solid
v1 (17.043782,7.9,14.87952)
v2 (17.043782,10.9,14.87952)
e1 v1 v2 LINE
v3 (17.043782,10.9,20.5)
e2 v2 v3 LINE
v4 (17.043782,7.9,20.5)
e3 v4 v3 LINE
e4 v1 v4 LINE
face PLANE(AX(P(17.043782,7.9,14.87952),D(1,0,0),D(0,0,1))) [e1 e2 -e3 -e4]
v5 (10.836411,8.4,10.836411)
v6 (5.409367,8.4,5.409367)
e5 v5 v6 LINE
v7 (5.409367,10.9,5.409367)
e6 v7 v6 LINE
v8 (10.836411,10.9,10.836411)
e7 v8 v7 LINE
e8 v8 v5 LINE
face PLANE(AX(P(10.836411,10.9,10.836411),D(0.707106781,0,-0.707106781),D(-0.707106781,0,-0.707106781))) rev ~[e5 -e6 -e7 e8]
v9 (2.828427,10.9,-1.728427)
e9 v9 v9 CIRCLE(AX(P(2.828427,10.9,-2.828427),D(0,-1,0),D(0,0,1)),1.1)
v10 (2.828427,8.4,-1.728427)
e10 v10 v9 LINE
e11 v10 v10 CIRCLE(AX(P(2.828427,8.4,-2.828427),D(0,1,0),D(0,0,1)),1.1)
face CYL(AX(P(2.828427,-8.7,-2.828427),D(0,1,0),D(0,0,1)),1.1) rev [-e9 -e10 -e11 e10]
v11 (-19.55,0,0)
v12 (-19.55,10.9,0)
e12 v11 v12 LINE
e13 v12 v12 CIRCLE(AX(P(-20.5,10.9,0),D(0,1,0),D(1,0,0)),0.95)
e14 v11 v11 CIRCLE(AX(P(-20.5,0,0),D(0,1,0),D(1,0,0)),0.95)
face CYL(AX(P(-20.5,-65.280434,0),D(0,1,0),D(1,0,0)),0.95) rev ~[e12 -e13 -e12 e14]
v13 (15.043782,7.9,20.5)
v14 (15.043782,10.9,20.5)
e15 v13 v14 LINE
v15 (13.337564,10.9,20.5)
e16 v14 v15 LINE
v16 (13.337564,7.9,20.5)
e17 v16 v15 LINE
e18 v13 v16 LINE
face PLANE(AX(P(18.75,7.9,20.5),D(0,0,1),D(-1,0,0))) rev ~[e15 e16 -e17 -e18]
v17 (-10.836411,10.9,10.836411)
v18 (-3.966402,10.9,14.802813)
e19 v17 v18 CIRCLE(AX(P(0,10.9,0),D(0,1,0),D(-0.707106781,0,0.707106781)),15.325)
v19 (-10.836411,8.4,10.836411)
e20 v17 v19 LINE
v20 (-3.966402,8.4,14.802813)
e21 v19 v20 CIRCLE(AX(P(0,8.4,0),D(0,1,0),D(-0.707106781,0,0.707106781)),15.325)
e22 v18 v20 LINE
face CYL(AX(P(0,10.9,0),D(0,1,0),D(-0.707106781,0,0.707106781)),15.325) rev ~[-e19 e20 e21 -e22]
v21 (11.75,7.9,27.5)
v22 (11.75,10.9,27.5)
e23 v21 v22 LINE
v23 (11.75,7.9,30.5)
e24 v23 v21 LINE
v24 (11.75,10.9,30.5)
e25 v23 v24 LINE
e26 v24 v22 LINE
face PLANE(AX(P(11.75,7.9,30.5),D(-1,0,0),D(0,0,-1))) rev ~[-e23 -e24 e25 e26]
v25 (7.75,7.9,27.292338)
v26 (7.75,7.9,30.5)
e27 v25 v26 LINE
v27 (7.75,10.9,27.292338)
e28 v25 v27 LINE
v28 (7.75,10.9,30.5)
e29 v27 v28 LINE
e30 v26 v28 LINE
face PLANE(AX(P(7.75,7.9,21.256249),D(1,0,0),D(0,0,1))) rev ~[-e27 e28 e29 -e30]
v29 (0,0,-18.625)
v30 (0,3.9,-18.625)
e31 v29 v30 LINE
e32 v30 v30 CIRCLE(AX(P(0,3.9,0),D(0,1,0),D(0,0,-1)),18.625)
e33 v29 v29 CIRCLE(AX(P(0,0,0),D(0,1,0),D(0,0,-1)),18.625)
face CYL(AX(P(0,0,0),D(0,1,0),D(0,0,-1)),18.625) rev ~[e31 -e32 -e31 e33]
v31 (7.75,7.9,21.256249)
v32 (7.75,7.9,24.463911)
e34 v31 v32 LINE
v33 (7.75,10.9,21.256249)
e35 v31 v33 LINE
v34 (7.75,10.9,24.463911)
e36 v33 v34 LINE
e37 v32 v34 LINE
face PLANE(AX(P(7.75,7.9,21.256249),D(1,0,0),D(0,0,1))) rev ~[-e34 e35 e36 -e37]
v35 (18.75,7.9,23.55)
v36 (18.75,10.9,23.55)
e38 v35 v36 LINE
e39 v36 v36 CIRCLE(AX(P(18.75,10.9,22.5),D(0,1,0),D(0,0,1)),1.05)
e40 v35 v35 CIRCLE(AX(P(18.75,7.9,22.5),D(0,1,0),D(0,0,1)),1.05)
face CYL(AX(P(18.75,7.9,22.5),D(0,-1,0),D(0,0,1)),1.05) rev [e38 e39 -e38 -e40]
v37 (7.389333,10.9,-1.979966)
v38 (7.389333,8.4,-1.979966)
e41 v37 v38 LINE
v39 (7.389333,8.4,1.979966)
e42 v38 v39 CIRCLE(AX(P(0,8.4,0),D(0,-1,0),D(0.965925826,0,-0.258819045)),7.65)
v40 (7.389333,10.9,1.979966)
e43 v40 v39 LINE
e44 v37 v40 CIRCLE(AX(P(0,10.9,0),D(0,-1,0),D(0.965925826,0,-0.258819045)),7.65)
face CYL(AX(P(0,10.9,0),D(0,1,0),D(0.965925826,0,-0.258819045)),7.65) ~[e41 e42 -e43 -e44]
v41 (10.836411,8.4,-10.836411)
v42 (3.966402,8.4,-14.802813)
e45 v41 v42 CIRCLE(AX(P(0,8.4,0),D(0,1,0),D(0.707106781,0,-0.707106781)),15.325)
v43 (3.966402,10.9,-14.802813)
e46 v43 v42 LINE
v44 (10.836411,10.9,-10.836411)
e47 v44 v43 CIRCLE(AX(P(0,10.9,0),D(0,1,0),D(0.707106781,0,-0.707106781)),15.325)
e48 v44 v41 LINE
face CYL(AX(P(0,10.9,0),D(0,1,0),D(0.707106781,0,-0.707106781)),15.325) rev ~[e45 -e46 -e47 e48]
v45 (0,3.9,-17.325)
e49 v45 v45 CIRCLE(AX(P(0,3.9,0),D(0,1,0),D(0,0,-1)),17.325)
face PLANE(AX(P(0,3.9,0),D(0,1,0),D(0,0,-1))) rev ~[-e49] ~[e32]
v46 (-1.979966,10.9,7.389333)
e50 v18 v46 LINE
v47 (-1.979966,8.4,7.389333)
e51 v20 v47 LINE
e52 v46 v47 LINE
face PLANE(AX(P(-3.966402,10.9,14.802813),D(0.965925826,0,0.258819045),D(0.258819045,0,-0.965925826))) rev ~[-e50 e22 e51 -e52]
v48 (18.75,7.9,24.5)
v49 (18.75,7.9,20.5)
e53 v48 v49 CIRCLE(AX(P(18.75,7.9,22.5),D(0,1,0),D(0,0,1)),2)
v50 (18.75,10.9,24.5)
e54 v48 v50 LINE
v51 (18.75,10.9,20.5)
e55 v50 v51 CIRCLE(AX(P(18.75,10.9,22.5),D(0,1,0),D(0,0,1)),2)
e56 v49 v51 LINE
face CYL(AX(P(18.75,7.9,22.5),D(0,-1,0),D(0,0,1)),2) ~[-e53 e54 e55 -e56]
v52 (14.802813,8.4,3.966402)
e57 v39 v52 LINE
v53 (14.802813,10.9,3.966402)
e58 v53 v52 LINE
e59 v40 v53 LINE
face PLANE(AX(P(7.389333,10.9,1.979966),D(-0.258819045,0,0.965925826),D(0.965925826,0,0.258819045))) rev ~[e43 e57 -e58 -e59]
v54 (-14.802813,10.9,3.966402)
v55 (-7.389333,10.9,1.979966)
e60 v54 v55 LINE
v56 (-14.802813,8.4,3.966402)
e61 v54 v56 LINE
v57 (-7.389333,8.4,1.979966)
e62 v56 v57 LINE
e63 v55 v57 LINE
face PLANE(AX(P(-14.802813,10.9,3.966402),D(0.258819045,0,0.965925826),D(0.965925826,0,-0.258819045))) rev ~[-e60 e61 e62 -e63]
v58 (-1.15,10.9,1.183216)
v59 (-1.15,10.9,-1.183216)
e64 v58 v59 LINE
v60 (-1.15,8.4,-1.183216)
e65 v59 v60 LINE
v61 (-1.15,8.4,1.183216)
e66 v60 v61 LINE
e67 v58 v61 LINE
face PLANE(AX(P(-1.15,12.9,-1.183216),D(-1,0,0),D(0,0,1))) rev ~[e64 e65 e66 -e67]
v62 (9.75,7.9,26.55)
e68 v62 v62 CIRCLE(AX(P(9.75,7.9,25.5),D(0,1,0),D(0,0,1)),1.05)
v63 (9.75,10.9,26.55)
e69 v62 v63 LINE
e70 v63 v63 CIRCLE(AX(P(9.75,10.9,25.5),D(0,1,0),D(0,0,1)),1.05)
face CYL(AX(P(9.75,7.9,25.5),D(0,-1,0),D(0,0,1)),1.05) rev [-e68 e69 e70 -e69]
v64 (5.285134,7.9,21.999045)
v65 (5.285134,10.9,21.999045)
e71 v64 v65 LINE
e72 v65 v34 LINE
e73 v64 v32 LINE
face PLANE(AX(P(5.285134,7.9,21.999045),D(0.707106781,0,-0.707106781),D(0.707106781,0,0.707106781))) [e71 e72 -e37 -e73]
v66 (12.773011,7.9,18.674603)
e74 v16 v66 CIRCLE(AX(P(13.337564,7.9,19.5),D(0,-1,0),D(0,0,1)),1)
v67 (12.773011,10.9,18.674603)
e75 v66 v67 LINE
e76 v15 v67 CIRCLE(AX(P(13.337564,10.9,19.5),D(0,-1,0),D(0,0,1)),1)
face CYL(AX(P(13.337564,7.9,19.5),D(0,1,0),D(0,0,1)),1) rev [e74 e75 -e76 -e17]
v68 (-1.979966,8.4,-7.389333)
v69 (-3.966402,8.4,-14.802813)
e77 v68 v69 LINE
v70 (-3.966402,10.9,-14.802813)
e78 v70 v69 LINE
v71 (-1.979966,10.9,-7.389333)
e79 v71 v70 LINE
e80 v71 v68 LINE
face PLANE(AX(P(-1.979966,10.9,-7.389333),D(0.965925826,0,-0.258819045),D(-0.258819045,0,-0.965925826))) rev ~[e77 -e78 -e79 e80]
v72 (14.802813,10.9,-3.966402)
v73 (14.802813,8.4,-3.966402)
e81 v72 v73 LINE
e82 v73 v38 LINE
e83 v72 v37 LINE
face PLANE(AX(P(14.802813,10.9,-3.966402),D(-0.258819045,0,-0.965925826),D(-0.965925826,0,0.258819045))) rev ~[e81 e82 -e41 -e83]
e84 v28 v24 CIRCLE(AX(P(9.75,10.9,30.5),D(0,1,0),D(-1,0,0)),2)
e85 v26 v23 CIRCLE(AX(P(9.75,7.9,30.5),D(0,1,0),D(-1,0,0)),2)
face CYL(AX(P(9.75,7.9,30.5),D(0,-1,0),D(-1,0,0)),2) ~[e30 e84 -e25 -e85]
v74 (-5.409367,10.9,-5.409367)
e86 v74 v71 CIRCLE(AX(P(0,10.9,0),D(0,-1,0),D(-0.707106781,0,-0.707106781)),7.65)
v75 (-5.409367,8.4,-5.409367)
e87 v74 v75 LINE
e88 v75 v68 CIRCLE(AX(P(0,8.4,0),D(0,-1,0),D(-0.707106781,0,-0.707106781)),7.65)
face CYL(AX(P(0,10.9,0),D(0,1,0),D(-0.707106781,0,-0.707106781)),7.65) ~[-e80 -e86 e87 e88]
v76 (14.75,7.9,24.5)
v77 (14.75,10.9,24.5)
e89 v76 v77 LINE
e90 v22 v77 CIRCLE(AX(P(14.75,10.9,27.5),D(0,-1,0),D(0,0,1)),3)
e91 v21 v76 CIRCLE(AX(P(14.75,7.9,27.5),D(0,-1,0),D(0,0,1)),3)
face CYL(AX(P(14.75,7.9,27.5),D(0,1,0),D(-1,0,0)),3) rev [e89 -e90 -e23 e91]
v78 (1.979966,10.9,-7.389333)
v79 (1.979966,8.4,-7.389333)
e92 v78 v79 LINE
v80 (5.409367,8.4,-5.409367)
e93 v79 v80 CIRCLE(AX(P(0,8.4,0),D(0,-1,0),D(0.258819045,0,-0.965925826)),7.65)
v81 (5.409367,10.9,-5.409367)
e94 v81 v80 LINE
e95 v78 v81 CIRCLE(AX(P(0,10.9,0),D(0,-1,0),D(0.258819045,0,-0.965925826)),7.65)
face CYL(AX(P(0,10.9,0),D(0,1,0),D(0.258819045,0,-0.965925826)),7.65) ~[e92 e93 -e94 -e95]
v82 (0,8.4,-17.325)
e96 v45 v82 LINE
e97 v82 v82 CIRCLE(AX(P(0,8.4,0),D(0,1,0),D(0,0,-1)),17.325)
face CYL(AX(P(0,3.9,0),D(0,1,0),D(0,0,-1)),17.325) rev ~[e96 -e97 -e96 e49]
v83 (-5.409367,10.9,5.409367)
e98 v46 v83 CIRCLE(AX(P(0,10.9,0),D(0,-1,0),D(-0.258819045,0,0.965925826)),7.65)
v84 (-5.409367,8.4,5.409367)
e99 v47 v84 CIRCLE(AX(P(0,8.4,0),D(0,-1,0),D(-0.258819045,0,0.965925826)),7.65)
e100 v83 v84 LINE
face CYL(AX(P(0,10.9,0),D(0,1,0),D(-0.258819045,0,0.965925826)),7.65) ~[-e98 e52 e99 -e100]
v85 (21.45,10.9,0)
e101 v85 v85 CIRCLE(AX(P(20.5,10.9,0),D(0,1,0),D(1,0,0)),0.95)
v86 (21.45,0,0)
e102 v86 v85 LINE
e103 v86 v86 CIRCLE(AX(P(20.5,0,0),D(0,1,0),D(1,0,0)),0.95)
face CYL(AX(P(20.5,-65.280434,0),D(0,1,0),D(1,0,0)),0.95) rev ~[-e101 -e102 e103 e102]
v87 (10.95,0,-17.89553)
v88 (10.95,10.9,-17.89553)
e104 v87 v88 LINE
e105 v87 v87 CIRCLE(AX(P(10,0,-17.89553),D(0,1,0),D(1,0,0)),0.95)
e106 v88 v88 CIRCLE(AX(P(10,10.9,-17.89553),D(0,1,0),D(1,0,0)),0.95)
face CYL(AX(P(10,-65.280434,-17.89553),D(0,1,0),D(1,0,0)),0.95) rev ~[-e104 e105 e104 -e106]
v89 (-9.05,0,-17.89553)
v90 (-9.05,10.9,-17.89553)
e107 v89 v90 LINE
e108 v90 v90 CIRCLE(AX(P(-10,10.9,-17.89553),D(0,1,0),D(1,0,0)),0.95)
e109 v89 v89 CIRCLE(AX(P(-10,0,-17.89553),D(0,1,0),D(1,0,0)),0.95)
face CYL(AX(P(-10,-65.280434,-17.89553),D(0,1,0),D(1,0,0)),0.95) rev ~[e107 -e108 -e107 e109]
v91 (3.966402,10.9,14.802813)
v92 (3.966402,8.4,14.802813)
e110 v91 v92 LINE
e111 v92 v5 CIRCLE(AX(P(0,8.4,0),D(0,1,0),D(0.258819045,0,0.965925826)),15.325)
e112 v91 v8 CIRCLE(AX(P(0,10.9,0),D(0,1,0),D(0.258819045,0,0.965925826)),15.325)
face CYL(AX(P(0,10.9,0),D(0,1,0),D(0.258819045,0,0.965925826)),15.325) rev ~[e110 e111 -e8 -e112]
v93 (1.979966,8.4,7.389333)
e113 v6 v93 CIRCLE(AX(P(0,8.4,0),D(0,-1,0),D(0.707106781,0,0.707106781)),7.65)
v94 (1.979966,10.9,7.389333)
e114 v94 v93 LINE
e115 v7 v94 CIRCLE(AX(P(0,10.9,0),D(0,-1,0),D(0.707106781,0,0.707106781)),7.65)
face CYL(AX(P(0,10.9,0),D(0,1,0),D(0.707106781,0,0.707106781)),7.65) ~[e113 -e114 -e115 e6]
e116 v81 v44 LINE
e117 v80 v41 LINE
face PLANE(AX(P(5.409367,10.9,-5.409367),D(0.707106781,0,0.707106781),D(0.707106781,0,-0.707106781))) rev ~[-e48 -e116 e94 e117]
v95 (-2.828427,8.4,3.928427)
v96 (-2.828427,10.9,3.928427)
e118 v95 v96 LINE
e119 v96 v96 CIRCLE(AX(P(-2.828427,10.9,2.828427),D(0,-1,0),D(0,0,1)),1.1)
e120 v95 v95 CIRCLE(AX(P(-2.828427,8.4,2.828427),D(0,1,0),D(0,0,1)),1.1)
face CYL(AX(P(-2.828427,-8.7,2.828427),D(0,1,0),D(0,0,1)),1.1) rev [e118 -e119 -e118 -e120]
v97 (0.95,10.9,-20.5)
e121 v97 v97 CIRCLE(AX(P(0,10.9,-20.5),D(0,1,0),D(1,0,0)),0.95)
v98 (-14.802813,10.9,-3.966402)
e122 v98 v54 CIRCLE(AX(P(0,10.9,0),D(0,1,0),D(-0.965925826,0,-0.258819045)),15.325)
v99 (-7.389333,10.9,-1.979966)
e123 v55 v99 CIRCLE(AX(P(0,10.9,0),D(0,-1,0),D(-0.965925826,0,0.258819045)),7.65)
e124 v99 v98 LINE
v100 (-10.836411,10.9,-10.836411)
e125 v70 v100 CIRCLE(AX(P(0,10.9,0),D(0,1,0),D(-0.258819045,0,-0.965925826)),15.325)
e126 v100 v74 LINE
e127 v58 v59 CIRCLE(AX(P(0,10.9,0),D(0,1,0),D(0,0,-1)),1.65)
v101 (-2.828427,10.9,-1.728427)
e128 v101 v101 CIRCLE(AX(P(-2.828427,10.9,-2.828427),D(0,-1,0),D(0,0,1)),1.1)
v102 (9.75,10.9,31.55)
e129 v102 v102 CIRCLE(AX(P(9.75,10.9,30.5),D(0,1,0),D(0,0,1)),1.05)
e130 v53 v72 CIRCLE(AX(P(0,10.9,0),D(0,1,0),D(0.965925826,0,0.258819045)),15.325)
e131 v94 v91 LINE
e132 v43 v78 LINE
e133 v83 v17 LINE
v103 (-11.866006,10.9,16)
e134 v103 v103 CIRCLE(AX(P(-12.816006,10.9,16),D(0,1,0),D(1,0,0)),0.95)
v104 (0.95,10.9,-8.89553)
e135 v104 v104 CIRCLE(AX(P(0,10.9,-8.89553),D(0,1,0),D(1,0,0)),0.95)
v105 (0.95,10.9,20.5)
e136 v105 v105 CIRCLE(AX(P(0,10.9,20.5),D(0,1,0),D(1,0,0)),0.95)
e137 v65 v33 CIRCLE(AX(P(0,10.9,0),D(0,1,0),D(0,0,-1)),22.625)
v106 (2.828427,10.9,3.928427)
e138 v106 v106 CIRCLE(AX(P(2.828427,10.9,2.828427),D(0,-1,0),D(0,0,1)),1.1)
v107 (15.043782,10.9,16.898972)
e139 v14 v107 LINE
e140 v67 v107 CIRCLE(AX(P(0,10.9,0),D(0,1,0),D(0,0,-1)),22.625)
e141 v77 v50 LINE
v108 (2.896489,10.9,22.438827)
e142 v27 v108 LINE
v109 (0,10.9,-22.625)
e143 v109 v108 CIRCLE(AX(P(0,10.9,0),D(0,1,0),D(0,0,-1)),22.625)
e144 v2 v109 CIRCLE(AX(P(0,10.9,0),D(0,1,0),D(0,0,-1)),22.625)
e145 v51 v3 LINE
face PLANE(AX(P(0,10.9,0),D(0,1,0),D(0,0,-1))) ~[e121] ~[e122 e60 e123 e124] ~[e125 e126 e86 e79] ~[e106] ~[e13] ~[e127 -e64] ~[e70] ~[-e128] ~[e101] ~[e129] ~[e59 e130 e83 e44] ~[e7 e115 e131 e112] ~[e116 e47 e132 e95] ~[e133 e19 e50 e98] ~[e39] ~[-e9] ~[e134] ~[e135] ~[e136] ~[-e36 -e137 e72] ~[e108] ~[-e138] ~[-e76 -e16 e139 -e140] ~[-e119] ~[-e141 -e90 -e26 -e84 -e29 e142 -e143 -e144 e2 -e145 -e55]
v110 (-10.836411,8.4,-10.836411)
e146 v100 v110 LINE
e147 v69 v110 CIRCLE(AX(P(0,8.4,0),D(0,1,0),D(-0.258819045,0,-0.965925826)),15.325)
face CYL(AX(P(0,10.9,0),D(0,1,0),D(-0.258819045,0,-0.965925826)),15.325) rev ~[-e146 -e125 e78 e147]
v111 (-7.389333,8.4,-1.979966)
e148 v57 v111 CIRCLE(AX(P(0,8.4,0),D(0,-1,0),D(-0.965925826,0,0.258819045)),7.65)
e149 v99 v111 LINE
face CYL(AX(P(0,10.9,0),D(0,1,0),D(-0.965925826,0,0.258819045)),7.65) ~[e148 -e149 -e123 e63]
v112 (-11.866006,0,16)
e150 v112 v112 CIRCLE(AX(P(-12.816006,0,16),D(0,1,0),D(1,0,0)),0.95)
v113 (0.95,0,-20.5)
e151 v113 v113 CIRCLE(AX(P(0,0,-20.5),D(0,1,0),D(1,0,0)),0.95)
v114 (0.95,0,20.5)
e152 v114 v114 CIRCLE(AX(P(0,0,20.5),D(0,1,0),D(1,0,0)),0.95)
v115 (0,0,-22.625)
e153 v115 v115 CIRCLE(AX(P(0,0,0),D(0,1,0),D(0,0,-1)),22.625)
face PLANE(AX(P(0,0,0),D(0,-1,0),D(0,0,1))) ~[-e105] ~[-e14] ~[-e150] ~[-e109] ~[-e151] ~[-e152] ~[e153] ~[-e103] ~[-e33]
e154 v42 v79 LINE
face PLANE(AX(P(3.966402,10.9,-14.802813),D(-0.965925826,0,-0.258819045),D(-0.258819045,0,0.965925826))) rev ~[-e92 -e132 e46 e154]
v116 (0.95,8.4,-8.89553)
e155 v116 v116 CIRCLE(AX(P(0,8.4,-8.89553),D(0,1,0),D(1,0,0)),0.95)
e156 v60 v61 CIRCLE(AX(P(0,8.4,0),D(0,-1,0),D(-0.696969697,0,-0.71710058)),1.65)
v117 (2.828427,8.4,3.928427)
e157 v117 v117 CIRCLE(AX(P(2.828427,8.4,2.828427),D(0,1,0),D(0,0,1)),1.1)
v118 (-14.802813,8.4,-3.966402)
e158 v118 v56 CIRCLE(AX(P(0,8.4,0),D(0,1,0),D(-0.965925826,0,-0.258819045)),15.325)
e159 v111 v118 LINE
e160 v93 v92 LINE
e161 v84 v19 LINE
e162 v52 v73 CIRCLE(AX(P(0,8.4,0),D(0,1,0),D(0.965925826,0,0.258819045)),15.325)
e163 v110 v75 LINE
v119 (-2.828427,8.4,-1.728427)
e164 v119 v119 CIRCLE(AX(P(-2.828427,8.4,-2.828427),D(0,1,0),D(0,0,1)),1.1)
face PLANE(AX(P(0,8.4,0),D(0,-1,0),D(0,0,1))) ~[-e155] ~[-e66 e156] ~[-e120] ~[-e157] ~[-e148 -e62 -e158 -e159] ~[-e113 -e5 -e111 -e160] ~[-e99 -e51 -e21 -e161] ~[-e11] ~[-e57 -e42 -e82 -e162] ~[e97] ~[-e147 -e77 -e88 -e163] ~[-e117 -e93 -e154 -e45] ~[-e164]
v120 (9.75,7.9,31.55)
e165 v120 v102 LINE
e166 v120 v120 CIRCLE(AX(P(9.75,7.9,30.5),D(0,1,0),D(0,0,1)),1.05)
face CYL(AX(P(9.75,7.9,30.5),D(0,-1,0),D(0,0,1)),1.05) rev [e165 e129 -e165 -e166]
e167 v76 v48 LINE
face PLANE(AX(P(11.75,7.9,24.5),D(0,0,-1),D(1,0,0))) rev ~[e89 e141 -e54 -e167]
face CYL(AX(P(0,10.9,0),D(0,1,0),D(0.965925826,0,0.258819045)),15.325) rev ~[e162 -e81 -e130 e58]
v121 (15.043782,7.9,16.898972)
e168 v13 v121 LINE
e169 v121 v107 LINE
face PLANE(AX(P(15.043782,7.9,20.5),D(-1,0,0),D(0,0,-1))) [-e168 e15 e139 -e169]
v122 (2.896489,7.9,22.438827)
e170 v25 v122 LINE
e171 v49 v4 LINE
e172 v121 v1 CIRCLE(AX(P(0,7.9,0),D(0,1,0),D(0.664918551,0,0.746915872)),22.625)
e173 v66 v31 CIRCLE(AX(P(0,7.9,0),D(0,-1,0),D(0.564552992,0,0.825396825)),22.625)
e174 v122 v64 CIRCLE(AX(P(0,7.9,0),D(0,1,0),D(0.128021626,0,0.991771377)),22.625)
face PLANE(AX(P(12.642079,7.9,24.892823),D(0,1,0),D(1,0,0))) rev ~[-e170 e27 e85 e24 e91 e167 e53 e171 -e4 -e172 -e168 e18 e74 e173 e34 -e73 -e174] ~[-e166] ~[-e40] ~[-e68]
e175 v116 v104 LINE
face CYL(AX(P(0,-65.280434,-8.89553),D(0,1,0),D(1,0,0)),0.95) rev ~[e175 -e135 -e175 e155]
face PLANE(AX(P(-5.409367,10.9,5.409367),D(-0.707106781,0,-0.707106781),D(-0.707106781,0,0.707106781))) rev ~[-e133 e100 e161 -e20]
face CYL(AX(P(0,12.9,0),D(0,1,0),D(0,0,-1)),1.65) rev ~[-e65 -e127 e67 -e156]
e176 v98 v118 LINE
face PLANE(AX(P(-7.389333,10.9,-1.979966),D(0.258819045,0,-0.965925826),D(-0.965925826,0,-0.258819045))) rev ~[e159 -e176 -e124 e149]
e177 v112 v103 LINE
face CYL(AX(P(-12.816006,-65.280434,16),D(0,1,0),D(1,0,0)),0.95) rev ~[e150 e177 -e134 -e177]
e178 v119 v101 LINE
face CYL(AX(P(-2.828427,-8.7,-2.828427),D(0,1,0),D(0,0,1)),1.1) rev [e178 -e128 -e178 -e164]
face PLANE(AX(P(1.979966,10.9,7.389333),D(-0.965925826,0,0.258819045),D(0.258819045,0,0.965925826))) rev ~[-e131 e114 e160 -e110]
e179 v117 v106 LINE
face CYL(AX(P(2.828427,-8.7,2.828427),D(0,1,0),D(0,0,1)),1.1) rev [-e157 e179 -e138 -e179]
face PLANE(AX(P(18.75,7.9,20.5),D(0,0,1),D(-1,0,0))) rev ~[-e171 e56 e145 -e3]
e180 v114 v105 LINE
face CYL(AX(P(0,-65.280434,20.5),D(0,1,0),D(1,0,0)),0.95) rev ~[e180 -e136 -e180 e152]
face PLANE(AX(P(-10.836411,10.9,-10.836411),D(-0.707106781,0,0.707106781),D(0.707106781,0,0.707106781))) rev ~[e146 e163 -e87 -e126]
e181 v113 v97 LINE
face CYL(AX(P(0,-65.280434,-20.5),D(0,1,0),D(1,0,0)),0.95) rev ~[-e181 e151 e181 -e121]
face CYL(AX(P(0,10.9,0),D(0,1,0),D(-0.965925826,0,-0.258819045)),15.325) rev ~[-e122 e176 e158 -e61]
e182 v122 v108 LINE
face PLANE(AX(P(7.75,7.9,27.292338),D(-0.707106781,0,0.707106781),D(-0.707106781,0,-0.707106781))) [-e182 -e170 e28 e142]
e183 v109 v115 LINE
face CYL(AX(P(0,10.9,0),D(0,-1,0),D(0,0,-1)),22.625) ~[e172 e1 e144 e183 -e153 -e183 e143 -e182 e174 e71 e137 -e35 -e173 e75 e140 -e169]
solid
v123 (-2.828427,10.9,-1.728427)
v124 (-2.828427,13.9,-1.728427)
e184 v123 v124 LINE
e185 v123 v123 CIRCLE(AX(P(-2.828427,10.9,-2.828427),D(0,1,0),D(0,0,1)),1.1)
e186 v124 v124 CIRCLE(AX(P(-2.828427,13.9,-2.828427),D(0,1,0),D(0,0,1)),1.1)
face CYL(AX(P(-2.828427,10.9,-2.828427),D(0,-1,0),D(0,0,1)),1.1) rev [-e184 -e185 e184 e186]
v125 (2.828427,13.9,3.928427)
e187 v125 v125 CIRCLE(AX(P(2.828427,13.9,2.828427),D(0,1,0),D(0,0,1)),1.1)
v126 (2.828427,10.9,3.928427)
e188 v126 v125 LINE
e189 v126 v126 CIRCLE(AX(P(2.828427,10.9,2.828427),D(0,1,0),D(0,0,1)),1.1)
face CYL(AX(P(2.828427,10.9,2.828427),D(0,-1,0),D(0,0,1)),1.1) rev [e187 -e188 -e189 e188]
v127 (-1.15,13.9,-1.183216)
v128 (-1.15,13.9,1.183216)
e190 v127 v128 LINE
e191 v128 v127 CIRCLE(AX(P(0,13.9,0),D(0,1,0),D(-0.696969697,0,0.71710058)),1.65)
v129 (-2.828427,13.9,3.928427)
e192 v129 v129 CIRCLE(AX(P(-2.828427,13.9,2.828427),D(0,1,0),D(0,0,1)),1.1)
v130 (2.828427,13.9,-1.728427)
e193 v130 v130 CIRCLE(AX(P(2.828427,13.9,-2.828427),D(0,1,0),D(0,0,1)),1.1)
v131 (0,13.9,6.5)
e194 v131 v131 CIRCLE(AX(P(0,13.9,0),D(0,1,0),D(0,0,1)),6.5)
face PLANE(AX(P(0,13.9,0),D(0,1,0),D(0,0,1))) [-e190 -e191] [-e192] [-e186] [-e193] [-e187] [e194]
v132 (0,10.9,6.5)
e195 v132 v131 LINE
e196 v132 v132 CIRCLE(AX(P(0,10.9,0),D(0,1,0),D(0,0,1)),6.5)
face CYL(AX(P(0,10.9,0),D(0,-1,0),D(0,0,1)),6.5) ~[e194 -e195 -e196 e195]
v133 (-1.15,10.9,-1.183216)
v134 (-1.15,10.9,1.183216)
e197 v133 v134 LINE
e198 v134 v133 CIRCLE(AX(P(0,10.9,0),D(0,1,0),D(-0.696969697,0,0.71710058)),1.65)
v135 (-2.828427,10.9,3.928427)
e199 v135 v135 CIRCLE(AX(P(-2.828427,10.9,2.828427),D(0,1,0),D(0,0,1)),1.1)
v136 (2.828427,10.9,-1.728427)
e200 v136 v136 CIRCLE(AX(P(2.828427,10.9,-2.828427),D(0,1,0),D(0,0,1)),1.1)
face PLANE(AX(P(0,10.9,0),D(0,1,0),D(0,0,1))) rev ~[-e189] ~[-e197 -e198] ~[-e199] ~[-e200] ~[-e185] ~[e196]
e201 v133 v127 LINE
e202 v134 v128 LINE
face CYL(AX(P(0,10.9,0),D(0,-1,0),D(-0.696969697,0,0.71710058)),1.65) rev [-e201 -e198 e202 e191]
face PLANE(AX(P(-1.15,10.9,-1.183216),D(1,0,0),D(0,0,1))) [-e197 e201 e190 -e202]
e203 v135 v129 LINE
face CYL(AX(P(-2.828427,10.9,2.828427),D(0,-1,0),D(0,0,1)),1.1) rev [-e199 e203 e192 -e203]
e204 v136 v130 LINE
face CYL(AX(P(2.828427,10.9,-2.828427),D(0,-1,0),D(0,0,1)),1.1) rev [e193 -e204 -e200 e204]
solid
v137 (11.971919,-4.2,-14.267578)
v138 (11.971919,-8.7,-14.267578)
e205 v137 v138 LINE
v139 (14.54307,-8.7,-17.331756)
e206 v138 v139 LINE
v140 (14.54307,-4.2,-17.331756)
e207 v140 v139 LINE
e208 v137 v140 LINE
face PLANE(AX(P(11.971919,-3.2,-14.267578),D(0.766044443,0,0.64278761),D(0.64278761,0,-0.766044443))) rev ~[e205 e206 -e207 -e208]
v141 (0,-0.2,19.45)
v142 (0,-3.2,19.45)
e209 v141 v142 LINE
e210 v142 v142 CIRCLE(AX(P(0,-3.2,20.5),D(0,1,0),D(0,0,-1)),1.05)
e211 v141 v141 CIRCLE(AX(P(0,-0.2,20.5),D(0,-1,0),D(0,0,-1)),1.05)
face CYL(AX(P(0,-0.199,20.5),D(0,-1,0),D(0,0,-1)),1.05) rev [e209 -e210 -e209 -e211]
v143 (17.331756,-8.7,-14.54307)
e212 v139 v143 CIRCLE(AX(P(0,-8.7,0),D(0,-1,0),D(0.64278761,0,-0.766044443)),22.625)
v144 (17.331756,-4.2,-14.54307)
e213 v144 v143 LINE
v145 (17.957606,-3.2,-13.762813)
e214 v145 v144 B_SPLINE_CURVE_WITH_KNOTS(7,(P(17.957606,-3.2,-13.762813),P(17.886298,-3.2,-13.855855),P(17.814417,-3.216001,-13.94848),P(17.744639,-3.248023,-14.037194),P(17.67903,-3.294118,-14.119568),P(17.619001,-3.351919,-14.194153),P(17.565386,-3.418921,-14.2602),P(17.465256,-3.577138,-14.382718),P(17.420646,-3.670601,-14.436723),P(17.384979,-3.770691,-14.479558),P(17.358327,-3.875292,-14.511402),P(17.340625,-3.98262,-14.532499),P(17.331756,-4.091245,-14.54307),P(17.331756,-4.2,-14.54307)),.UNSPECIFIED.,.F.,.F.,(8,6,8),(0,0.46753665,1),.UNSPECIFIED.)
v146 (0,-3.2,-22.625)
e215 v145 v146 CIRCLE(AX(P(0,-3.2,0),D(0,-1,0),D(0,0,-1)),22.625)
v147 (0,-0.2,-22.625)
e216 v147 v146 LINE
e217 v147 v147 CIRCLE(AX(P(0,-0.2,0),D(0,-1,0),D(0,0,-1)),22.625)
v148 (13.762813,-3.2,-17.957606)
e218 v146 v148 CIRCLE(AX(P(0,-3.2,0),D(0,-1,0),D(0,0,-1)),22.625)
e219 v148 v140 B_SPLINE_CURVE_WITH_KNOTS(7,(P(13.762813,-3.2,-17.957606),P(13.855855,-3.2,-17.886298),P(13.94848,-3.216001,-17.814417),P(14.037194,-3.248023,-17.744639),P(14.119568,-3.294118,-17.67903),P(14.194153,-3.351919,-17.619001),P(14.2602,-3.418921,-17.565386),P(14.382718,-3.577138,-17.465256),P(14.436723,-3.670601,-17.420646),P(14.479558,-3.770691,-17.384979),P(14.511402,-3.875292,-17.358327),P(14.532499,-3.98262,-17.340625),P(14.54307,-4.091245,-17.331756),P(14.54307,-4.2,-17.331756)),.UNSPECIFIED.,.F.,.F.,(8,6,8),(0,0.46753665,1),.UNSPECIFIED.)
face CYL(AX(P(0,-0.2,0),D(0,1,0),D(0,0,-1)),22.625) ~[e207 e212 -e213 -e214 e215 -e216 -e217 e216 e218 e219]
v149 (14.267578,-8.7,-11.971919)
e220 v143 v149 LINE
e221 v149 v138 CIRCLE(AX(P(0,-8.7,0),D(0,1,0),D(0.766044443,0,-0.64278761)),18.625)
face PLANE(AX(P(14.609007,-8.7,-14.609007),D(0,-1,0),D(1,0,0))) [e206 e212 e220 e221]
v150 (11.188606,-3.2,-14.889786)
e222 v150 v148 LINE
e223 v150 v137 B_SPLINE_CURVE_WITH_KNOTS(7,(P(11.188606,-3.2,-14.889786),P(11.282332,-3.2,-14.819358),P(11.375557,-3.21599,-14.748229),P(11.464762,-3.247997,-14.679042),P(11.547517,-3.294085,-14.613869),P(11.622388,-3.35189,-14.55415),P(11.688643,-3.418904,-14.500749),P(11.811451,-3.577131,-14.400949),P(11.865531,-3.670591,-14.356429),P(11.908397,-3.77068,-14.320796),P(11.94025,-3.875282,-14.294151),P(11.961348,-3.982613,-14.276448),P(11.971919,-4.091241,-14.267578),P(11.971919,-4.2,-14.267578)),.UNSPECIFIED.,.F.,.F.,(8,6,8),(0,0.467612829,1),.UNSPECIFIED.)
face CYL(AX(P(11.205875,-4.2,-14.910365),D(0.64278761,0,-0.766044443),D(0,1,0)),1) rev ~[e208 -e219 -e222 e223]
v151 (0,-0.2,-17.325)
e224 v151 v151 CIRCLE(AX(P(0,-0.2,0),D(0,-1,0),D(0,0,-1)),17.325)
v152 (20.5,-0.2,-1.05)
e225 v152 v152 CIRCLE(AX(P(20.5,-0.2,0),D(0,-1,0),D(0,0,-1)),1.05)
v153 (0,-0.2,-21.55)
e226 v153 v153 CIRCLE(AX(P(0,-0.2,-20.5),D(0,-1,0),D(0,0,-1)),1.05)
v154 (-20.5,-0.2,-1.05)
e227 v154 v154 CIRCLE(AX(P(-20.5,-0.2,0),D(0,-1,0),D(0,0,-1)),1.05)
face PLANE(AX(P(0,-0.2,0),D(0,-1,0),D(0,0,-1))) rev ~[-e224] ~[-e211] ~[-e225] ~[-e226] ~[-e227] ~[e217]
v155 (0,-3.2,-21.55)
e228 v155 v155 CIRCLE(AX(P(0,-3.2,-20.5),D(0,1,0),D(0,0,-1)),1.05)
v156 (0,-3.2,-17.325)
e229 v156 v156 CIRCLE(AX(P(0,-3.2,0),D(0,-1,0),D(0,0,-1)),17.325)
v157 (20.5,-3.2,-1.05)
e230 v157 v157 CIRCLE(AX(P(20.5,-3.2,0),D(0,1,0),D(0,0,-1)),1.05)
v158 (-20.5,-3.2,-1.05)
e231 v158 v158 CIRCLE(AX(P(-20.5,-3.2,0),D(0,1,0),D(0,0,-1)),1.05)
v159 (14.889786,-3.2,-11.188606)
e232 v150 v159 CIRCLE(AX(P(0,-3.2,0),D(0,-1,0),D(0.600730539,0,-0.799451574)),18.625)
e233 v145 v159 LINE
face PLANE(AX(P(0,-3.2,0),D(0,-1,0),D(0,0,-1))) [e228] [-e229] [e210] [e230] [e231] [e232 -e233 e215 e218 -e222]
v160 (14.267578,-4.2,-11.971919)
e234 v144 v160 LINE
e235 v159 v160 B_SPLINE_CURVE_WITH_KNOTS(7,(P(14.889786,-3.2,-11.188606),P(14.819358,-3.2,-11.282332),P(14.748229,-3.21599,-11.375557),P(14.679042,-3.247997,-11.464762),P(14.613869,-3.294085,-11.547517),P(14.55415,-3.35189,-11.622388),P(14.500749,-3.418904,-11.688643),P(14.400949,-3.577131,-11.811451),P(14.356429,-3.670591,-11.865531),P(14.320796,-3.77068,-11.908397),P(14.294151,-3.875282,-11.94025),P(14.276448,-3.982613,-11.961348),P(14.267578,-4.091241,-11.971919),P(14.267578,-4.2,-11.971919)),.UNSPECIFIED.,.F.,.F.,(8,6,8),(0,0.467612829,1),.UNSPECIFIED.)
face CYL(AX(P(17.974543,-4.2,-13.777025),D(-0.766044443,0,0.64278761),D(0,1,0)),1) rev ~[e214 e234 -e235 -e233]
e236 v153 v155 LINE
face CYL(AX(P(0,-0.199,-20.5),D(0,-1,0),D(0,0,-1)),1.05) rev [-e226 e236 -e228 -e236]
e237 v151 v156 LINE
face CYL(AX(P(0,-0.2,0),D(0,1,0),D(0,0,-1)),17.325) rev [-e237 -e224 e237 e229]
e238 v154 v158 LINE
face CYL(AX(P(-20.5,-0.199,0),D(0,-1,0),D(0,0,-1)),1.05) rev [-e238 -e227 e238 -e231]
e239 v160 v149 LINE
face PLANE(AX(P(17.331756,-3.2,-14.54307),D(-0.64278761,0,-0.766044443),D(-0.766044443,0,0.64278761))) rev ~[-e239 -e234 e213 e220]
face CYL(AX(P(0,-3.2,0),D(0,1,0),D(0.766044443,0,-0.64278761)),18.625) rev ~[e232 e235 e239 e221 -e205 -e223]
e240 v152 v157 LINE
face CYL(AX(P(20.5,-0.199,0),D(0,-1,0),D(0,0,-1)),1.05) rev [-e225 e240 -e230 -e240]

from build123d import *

# Parameters (mm, degrees)
EXTRUDE_START                    = 2
SKETCH_2_R                       = 3.6500000000000004
SKETCH_2_R_2                     = 1.6500000000000004
EXTRUDE_1_DEPTH                  = 2
EXTRUDE_2_DEPTH                  = 4.5
HOLE_WIZARD_1_9_1_9_2_D          = 1.9
EXTRUDE_START_2                  = 0.2
SKETCH_6_R                       = 22.625
SKETCH_6_R_2                     = 17.325
EXTRUDE_3_DEPTH                  = 3
HOLE_WIZARD_2_1_2_1_2_AT_2_COUNT = 2
HOLE_WIZARD_2_1_2_1_2_AT_2_PITCH = 28.991378028648448
HOLE_WIZARD_2_1_2_1_2_AT_3_COUNT = 2
HOLE_WIZARD_2_1_2_1_2_AT_3_PITCH = 41
HOLE_WIZARD_2_1_2_1_2_AT_4_COUNT = 2
HOLE_WIZARD_2_1_2_1_2_AT_4_PITCH = 28.991378028648448
EXTRUDE_START_3                  = -3
SKETCH_9_R                       = 1.0499999999999934
SKETCH_9_R_2                     = 1.0499999999999985
EXTRUDE_4_DEPTH                  = 3
FILLET_1_R                       = 3
FILLET_2_R                       = 1
EXTRUDE_5_DEPTH                  = 3
CUT_EXTRUDE_1_DEPTH              = 2.5
EXTRUDE_START_4                  = 3.2
EXTRUDE_6_DEPTH                  = 5.5
FILLET_3_R                       = 1
CUT_EXTRUDE_START                = 10
SKETCH_13_R                      = 3.6500000000000004
CUT_EXTRUDE_2_DEPTH              = 10
HOLE_WIZARD_2_2_2_2_1_AT_2_COUNT = 2
HOLE_WIZARD_2_2_2_2_1_AT_2_PITCH = 5.65685424949238
HOLE_WIZARD_2_2_2_2_1_AT_3_COUNT = 2
HOLE_WIZARD_2_2_2_2_1_AT_3_PITCH = 8
HOLE_WIZARD_2_2_2_2_1_AT_4_COUNT = 2
HOLE_WIZARD_2_2_2_2_1_AT_4_PITCH = 5.6568542494923815
SKETCH_18_R                      = 6.5
SKETCH_18_R_2                    = 1.0999999999999883
SKETCH_18_R_3                    = 1.0999999999999885
SKETCH_18_R_4                    = 1.0999999999999888
SKETCH_18_R_5                    = 1.099999999999988
EXTRUDE_7_DEPTH                  = 3


with BuildPart() as part:
    # 草图1 → 旋转1 (revolve)
    with BuildSketch(Plane.XY, mode=Mode.PRIVATE) as revolve_1_sk:
        Polygon((18.625, -4.9e-16), (18.625, 3.8999999999999995), (17.325, 3.8999999999999995), (17.325, 8.4), (1.6499999999999986, 8.399999999999999), (1.65, 10.9), (22.625, 10.9), (22.625, 0), align=None)
    revolve(revolve_1_sk.sketch.rotate(Axis((0, 0, 0), (0, 1, 0)), 90), axis=Axis((0, 0, 0), (0, 1, 0)))

    # 草图2 → 凸台-拉伸1 (add)
    with BuildSketch(Plane(origin=(0, 10.9, 0), x_dir=(1, 0, 0), z_dir=(0, 1, 0)).offset(EXTRUDE_START)):
        with Locations(Location((0, 0, 0), (0, 0, 270))):
            Circle(SKETCH_2_R)
        with Locations(Location((0, 0, 0), (0, 0, 90))):
            Circle(SKETCH_2_R_2, mode=Mode.SUBTRACT)
    extrude(amount=-EXTRUDE_1_DEPTH)

    # 草图3 → 凸台-拉伸2 (add)
    with BuildSketch(Plane(origin=(0, 12.9, 0), x_dir=(1, 0, 0), z_dir=(0, 1, 0))):
        with BuildLine():
            Line((-1.1499999999999997, 1.1832159566199236), (-1.1499999999999997, -1.1832159566199236))
            ThreePointArc((-1.1499999999999997, -1.1832159566199236), (-1.6500000000000001, 2e-16), (-1.1499999999999997, 1.1832159566199236))
        make_face()
    extrude(amount=-EXTRUDE_2_DEPTH)

    # Ø1.9 (1.9) 直径孔2 (through all)
    with Locations(Plane(origin=(0, 0, 0), x_dir=(-1, 0, 0), z_dir=(0, -1, 0))):
        with Locations((12.816005618, -16), (-20.5, 0), (0, 20.5), (20.5, 0), (0, -20.5), (-10, 17.895530168), (10, 17.895530168), (0, 8.895530168)):
            Hole(HOLE_WIZARD_1_9_1_9_2_D / 2)

    # 草图9 → 凸台-拉伸4 (add)
    with BuildSketch(Plane(origin=(0, 10.9, 0), x_dir=(1, 0, 0), z_dir=(0, 1, 0)).offset(EXTRUDE_START_3)):
        with BuildLine():
            ThreePointArc((7.75, -30.5), (9.75, -32.5), (11.75, -30.5))
            Line((11.75, -30.5), (11.75, -24.499999999999996))
            Line((11.75, -24.499999999999996), (18.75, -24.499999999999996))
            ThreePointArc((18.75, -24.5), (20.75, -22.5), (18.75, -20.5))
            Line((18.75, -20.499999999999996), (9.572910999272894, -20.5))
            ThreePointArc((9.572910999272901, -20.499999999999996), (8.669705274135236, -20.898010322986053), (7.749999999999996, -21.256249081152582))
            Line((7.75, -21.256249081152582), (7.75, -30.5))
        make_face()
        with Locations(Location((9.75, -30.5, 0), (0, 0, 270))):
            Circle(SKETCH_9_R, mode=Mode.SUBTRACT)
        with Locations(Location((9.75, -25.5, 0), (0, 0, 270))):
            Circle(SKETCH_9_R_2, mode=Mode.SUBTRACT)
        with Locations(Location((18.75, -22.5, 0), (0, 0, 270))):
            Circle(SKETCH_9_R_2, mode=Mode.SUBTRACT)
    extrude(amount=EXTRUDE_4_DEPTH)

    # 圆角1
    fillet_1_edges = [part.edges().sort_by_distance(p)[0] for p in [
        (11.75, 9.4, 24.499999999999996),
    ]]
    fillet(fillet_1_edges, radius=FILLET_1_R)

    # 圆角2
    fillet_2_edges = [part.edges().sort_by_distance(p)[0] for p in [
        (9.572910999272896, 9.4, 20.499999999999996),
    ]]
    fillet(fillet_2_edges, radius=FILLET_2_R)

    # 草图10 → 凸台-拉伸5 (add)
    with BuildSketch(Plane(origin=(0, 10.9, 0), x_dir=(1, 0, 0), z_dir=(0, 1, 0)).offset(EXTRUDE_START_3)):
        with BuildLine():
            Line((7.75, -27.29233810294938), (2.8964892904408646, -22.438827393390266))
            ThreePointArc((2.8964892904408646, -22.438827393390266), (4.096717261259319, -22.251011947354215), (5.285134066870919, -21.99904504507413))
            Line((5.285134066870919, -21.99904504507413), (7.75, -24.4639109782032))
            Line((7.75, -24.4639109782032), (7.75, -27.29233810294938))
        make_face()
        with BuildLine():
            Line((15.043782216417029, -20.5), (15.043782216417029, -16.89897161442124))
            ThreePointArc((15.043782216417029, -16.89897161442124), (16.075524691411957, -15.920682488379839), (17.043782216417032, -14.879519910243964))
            Line((17.043782216417032, -14.879519910243964), (17.043782216417032, -20.5))
            Line((17.043782216417032, -20.5), (15.043782216417029, -20.5))
        make_face()
    extrude(amount=EXTRUDE_5_DEPTH)

    # 草图11 → 切除-拉伸1 (cut)
    with BuildSketch(Plane(origin=(0, 10.9, 0), x_dir=(1, 0, 0), z_dir=(0, 1, 0))):
        with BuildLine():
            Line((-7.389332571111372, 1.979965695034288), (-14.80281328787997, 3.9664018661961387))
            ThreePointArc((-14.80281328787997, 3.9664018661961387), (-15.325, 1.88e-15), (-14.802813287879967, -3.966401866196142))
            Line((-14.802813287879967, -3.966401866196142), (-7.389332571111371, -1.9799656950342899))
            ThreePointArc((-7.389332571111371, -1.9799656950342899), (-7.65, 9.4e-16), (-7.389332571111372, 1.979965695034288))
        make_face()
        with BuildLine():
            Line((-1.9799656950342812, 7.389332571111374), (-3.966401866196125, 14.802813287879975))
            ThreePointArc((-3.966401866196125, 14.802813287879975), (-7.662500000000004, 13.271839312996521), (-10.83641142168385, 10.836411421683831))
            Line((-10.83641142168385, 10.836411421683831), (-5.409366876077093, 5.409366876077084))
            ThreePointArc((-5.409366876077093, 5.409366876077084), (-3.825000000000002, 6.625094338950955), (-1.9799656950342812, 7.389332571111374))
        make_face()
        with BuildLine():
            Line((5.40936687607709, 5.409366876077088), (10.836411421683845, 10.836411421683838))
            ThreePointArc((10.836411421683845, 10.836411421683838), (7.662499999999996, 13.271839312996526), (3.966401866196115, 14.802813287879976))
            Line((3.966401866196115, 14.802813287879976), (1.9799656950342763, 7.3893325711113755))
            ThreePointArc((1.9799656950342763, 7.3893325711113755), (3.824999999999996, 6.625094338950958), (5.40936687607709, 5.409366876077088))
        make_face()
        with BuildLine():
            Line((7.389332571111372, -1.9799656950342872), (14.80281328787997, -3.966401866196137))
            ThreePointArc((14.80281328787997, -3.966401866196137), (15.325, 4.25e-15), (14.802813287879967, 3.966401866196144))
            Line((14.802813287879967, 3.966401866196144), (7.389332571111371, 1.9799656950342908))
            ThreePointArc((7.389332571111371, 1.9799656950342908), (7.65, 2.12e-15), (7.389332571111372, -1.9799656950342872))
        make_face()
        with BuildLine():
            Line((1.9799656950342834, -7.389332571111374), (3.96640186619613, -14.802813287879973))
            ThreePointArc((3.96640186619613, -14.802813287879973), (7.662500000000008, -13.27183931299652), (10.836411421683856, -10.83641142168383))
            Line((10.836411421683856, -10.83641142168383), (5.409366876077096, -5.409366876077082))
            ThreePointArc((5.409366876077096, -5.409366876077082), (3.825000000000004, -6.625094338950954), (1.9799656950342834, -7.389332571111374))
        make_face()
        with BuildLine():
            Line((-5.4093668760770885, -5.40936687607709), (-10.836411421683838, -10.836411421683843))
            ThreePointArc((-10.836411421683838, -10.836411421683843), (-7.66249999999999, -13.271839312996526), (-3.9664018661961076, -14.802813287879978))
            Line((-3.9664018661961076, -14.802813287879978), (-1.9799656950342726, -7.3893325711113755))
            ThreePointArc((-1.9799656950342726, -7.3893325711113755), (-3.8249999999999957, -6.625094338950959), (-5.4093668760770885, -5.40936687607709))
        make_face()
    extrude(amount=-CUT_EXTRUDE_1_DEPTH, mode=Mode.SUBTRACT)

    # 草图13 → 切除-拉伸2 (cut)
    with BuildSketch(Plane(origin=(0, 10.9, 0), x_dir=(1, 0, 0), z_dir=(0, 1, 0)).offset(CUT_EXTRUDE_START)):
        Circle(SKETCH_13_R)
    extrude(amount=-CUT_EXTRUDE_2_DEPTH, mode=Mode.SUBTRACT)

    # 草图17 → Ø2.2 (2.2) 直径孔1 (revolve, cut)
    with BuildSketch(Plane(origin=(-2.8284271247461854, 10.9, 2.828427124746195), x_dir=(0, 0, 1), z_dir=(1, 0, 0))):
        Polygon((0, 0), (-4.8e-15, 19.599999999999998), (1.0999999999999952, 19.599999999999998), (1.099999999999988, -1.42e-15), align=None)
    hole_wizard_2_2_2_2_1 = revolve(axis=Axis((-2.8284271247461854, 17.249999999999993, 2.828427124746195), (0, -1, 0)), mode=Mode.SUBTRACT)

    # Ø2.2 (2.2) 直径孔1 at 2: Ø2.2 (2.2) 直径孔1 ×2
    with Locations(*[(0, 0, -i * HOLE_WIZARD_2_2_2_2_1_AT_2_PITCH) for i in range(1, HOLE_WIZARD_2_2_2_2_1_AT_2_COUNT)]):
        add(hole_wizard_2_2_2_2_1, mode=Mode.SUBTRACT)

    # Ø2.2 (2.2) 直径孔1 at 3: Ø2.2 (2.2) 直径孔1 ×2
    with Locations(*[Vector(0.7071067811865464, 0, -0.7071067811865488) * (i * HOLE_WIZARD_2_2_2_2_1_AT_3_PITCH) for i in range(1, HOLE_WIZARD_2_2_2_2_1_AT_3_COUNT)]):
        add(hole_wizard_2_2_2_2_1, mode=Mode.SUBTRACT)

    # Ø2.2 (2.2) 直径孔1 at 4: Ø2.2 (2.2) 直径孔1 ×2
    with Locations(*[(i * HOLE_WIZARD_2_2_2_2_1_AT_4_PITCH, 0, 0) for i in range(1, HOLE_WIZARD_2_2_2_2_1_AT_4_COUNT)]):
        add(hole_wizard_2_2_2_2_1, mode=Mode.SUBTRACT)


with BuildPart() as body_2:
    # 草图6 → 凸台-拉伸3 (new body)
    with BuildSketch(Plane.XZ.offset(EXTRUDE_START_2)):
        with Locations(Location((0, 0, 0), (0, 0, 270))):
            Circle(SKETCH_6_R)
        with Locations(Location((0, 0, 0), (0, 0, 270))):
            Circle(SKETCH_6_R_2, mode=Mode.SUBTRACT)
    extrude(amount=EXTRUDE_3_DEPTH)

    # 草图8 → Ø2.1 (2.1) 直径孔2 (revolve, cut)
    with BuildSketch(Plane(origin=(-20.5, -3.2, 0), x_dir=(0, 0, -1), z_dir=(1, 0, 0))):
        Polygon((0, 0), (-7.4e-16, 3.0010000000000003), (1.0499999999999994, 3.0010000000000003), (1.0499999999999987, 1e-17), align=None)
    hole_wizard_2_1_2_1_2 = revolve(axis=Axis((-20.5, -9.54999999999999, 0), (0, 1, 0)), mode=Mode.SUBTRACT)

    # Ø2.1 (2.1) 直径孔2 at 2: Ø2.1 (2.1) 直径孔2 ×2
    with Locations(*[Vector(0.7071067811865476, 0, -0.7071067811865476) * (i * HOLE_WIZARD_2_1_2_1_2_AT_2_PITCH) for i in range(1, HOLE_WIZARD_2_1_2_1_2_AT_2_COUNT)]):
        add(hole_wizard_2_1_2_1_2, mode=Mode.SUBTRACT)

    # Ø2.1 (2.1) 直径孔2 at 3: Ø2.1 (2.1) 直径孔2 ×2
    with Locations(*[(i * HOLE_WIZARD_2_1_2_1_2_AT_3_PITCH, 0, 0) for i in range(1, HOLE_WIZARD_2_1_2_1_2_AT_3_COUNT)]):
        add(hole_wizard_2_1_2_1_2, mode=Mode.SUBTRACT)

    # Ø2.1 (2.1) 直径孔2 at 4: Ø2.1 (2.1) 直径孔2 ×2
    with Locations(*[Vector(0.7071067811865476, 0, 0.7071067811865476) * (i * HOLE_WIZARD_2_1_2_1_2_AT_4_PITCH) for i in range(1, HOLE_WIZARD_2_1_2_1_2_AT_4_COUNT)]):
        add(hole_wizard_2_1_2_1_2, mode=Mode.SUBTRACT)

    # 草图12 → 凸台-拉伸6 (add)
    with BuildSketch(Plane.XZ.offset(EXTRUDE_START_4)):
        with BuildLine():
            Line((11.971919230411768, -14.26757775309099), (14.543069669157921, -17.331755525566905))
            ThreePointArc((14.543069669157921, -17.331755525566905), (15.998290924345609, -15.998290924345666), (17.331755525566855, -14.543069669157981))
            Line((17.331755525566855, -14.543069669157981), (14.267577753090945, -11.97191923041182))
            ThreePointArc((14.267577753090945, -11.97191923041182), (13.169863799599424, -13.16986379959947), (11.971919230411768, -14.26757775309099))
        make_face()
    extrude(amount=EXTRUDE_6_DEPTH)

    # 圆角3
    fillet_3_edges = [body_2.edges().sort_by_distance(p)[0] for p in [
        (15.799666639328901, -3.2, -13.2574944497849),
        (13.257494449784843, -3.2, -15.799666639328947),
    ]]
    fillet(fillet_3_edges, radius=FILLET_3_R)


with BuildPart() as body_3:
    # 草图18 → 凸台-拉伸7 (new body)
    with BuildSketch(Plane(origin=(0, 10.9, 0), x_dir=(1, 0, 0), z_dir=(0, 1, 0))):
        with Locations(Location((0, 0, 0), (0, 0, 270))):
            Circle(SKETCH_18_R)
        with Locations(Location((2.8284271247461956, -2.8284271247461845, 0), (0, 0, 270))):
            Circle(SKETCH_18_R_2, mode=Mode.SUBTRACT)
        with Locations(Location((-2.8284271247461854, -2.828427124746195, 0), (0, 0, 270))):
            Circle(SKETCH_18_R_3, mode=Mode.SUBTRACT)
        with Locations(Location((2.828427124746185, 2.8284271247461956, 0), (0, 0, 270))):
            Circle(SKETCH_18_R_4, mode=Mode.SUBTRACT)
        with Locations(Location((-2.828427124746195, 2.828427124746185, 0), (0, 0, 270))):
            Circle(SKETCH_18_R_5, mode=Mode.SUBTRACT)
        with BuildLine():
            Line((-1.1499999999999997, 1.1832159566199236), (-1.1499999999999997, -1.1832159566199236))
            ThreePointArc((-1.1499999999999997, -1.1832159566199236), (1.6500000000000001, 0), (-1.1499999999999997, 1.1832159566199236))
        make_face(mode=Mode.SUBTRACT)
    extrude(amount=EXTRUDE_7_DEPTH)


solid = Compound([part.part, body_2.part, body_3.part])
